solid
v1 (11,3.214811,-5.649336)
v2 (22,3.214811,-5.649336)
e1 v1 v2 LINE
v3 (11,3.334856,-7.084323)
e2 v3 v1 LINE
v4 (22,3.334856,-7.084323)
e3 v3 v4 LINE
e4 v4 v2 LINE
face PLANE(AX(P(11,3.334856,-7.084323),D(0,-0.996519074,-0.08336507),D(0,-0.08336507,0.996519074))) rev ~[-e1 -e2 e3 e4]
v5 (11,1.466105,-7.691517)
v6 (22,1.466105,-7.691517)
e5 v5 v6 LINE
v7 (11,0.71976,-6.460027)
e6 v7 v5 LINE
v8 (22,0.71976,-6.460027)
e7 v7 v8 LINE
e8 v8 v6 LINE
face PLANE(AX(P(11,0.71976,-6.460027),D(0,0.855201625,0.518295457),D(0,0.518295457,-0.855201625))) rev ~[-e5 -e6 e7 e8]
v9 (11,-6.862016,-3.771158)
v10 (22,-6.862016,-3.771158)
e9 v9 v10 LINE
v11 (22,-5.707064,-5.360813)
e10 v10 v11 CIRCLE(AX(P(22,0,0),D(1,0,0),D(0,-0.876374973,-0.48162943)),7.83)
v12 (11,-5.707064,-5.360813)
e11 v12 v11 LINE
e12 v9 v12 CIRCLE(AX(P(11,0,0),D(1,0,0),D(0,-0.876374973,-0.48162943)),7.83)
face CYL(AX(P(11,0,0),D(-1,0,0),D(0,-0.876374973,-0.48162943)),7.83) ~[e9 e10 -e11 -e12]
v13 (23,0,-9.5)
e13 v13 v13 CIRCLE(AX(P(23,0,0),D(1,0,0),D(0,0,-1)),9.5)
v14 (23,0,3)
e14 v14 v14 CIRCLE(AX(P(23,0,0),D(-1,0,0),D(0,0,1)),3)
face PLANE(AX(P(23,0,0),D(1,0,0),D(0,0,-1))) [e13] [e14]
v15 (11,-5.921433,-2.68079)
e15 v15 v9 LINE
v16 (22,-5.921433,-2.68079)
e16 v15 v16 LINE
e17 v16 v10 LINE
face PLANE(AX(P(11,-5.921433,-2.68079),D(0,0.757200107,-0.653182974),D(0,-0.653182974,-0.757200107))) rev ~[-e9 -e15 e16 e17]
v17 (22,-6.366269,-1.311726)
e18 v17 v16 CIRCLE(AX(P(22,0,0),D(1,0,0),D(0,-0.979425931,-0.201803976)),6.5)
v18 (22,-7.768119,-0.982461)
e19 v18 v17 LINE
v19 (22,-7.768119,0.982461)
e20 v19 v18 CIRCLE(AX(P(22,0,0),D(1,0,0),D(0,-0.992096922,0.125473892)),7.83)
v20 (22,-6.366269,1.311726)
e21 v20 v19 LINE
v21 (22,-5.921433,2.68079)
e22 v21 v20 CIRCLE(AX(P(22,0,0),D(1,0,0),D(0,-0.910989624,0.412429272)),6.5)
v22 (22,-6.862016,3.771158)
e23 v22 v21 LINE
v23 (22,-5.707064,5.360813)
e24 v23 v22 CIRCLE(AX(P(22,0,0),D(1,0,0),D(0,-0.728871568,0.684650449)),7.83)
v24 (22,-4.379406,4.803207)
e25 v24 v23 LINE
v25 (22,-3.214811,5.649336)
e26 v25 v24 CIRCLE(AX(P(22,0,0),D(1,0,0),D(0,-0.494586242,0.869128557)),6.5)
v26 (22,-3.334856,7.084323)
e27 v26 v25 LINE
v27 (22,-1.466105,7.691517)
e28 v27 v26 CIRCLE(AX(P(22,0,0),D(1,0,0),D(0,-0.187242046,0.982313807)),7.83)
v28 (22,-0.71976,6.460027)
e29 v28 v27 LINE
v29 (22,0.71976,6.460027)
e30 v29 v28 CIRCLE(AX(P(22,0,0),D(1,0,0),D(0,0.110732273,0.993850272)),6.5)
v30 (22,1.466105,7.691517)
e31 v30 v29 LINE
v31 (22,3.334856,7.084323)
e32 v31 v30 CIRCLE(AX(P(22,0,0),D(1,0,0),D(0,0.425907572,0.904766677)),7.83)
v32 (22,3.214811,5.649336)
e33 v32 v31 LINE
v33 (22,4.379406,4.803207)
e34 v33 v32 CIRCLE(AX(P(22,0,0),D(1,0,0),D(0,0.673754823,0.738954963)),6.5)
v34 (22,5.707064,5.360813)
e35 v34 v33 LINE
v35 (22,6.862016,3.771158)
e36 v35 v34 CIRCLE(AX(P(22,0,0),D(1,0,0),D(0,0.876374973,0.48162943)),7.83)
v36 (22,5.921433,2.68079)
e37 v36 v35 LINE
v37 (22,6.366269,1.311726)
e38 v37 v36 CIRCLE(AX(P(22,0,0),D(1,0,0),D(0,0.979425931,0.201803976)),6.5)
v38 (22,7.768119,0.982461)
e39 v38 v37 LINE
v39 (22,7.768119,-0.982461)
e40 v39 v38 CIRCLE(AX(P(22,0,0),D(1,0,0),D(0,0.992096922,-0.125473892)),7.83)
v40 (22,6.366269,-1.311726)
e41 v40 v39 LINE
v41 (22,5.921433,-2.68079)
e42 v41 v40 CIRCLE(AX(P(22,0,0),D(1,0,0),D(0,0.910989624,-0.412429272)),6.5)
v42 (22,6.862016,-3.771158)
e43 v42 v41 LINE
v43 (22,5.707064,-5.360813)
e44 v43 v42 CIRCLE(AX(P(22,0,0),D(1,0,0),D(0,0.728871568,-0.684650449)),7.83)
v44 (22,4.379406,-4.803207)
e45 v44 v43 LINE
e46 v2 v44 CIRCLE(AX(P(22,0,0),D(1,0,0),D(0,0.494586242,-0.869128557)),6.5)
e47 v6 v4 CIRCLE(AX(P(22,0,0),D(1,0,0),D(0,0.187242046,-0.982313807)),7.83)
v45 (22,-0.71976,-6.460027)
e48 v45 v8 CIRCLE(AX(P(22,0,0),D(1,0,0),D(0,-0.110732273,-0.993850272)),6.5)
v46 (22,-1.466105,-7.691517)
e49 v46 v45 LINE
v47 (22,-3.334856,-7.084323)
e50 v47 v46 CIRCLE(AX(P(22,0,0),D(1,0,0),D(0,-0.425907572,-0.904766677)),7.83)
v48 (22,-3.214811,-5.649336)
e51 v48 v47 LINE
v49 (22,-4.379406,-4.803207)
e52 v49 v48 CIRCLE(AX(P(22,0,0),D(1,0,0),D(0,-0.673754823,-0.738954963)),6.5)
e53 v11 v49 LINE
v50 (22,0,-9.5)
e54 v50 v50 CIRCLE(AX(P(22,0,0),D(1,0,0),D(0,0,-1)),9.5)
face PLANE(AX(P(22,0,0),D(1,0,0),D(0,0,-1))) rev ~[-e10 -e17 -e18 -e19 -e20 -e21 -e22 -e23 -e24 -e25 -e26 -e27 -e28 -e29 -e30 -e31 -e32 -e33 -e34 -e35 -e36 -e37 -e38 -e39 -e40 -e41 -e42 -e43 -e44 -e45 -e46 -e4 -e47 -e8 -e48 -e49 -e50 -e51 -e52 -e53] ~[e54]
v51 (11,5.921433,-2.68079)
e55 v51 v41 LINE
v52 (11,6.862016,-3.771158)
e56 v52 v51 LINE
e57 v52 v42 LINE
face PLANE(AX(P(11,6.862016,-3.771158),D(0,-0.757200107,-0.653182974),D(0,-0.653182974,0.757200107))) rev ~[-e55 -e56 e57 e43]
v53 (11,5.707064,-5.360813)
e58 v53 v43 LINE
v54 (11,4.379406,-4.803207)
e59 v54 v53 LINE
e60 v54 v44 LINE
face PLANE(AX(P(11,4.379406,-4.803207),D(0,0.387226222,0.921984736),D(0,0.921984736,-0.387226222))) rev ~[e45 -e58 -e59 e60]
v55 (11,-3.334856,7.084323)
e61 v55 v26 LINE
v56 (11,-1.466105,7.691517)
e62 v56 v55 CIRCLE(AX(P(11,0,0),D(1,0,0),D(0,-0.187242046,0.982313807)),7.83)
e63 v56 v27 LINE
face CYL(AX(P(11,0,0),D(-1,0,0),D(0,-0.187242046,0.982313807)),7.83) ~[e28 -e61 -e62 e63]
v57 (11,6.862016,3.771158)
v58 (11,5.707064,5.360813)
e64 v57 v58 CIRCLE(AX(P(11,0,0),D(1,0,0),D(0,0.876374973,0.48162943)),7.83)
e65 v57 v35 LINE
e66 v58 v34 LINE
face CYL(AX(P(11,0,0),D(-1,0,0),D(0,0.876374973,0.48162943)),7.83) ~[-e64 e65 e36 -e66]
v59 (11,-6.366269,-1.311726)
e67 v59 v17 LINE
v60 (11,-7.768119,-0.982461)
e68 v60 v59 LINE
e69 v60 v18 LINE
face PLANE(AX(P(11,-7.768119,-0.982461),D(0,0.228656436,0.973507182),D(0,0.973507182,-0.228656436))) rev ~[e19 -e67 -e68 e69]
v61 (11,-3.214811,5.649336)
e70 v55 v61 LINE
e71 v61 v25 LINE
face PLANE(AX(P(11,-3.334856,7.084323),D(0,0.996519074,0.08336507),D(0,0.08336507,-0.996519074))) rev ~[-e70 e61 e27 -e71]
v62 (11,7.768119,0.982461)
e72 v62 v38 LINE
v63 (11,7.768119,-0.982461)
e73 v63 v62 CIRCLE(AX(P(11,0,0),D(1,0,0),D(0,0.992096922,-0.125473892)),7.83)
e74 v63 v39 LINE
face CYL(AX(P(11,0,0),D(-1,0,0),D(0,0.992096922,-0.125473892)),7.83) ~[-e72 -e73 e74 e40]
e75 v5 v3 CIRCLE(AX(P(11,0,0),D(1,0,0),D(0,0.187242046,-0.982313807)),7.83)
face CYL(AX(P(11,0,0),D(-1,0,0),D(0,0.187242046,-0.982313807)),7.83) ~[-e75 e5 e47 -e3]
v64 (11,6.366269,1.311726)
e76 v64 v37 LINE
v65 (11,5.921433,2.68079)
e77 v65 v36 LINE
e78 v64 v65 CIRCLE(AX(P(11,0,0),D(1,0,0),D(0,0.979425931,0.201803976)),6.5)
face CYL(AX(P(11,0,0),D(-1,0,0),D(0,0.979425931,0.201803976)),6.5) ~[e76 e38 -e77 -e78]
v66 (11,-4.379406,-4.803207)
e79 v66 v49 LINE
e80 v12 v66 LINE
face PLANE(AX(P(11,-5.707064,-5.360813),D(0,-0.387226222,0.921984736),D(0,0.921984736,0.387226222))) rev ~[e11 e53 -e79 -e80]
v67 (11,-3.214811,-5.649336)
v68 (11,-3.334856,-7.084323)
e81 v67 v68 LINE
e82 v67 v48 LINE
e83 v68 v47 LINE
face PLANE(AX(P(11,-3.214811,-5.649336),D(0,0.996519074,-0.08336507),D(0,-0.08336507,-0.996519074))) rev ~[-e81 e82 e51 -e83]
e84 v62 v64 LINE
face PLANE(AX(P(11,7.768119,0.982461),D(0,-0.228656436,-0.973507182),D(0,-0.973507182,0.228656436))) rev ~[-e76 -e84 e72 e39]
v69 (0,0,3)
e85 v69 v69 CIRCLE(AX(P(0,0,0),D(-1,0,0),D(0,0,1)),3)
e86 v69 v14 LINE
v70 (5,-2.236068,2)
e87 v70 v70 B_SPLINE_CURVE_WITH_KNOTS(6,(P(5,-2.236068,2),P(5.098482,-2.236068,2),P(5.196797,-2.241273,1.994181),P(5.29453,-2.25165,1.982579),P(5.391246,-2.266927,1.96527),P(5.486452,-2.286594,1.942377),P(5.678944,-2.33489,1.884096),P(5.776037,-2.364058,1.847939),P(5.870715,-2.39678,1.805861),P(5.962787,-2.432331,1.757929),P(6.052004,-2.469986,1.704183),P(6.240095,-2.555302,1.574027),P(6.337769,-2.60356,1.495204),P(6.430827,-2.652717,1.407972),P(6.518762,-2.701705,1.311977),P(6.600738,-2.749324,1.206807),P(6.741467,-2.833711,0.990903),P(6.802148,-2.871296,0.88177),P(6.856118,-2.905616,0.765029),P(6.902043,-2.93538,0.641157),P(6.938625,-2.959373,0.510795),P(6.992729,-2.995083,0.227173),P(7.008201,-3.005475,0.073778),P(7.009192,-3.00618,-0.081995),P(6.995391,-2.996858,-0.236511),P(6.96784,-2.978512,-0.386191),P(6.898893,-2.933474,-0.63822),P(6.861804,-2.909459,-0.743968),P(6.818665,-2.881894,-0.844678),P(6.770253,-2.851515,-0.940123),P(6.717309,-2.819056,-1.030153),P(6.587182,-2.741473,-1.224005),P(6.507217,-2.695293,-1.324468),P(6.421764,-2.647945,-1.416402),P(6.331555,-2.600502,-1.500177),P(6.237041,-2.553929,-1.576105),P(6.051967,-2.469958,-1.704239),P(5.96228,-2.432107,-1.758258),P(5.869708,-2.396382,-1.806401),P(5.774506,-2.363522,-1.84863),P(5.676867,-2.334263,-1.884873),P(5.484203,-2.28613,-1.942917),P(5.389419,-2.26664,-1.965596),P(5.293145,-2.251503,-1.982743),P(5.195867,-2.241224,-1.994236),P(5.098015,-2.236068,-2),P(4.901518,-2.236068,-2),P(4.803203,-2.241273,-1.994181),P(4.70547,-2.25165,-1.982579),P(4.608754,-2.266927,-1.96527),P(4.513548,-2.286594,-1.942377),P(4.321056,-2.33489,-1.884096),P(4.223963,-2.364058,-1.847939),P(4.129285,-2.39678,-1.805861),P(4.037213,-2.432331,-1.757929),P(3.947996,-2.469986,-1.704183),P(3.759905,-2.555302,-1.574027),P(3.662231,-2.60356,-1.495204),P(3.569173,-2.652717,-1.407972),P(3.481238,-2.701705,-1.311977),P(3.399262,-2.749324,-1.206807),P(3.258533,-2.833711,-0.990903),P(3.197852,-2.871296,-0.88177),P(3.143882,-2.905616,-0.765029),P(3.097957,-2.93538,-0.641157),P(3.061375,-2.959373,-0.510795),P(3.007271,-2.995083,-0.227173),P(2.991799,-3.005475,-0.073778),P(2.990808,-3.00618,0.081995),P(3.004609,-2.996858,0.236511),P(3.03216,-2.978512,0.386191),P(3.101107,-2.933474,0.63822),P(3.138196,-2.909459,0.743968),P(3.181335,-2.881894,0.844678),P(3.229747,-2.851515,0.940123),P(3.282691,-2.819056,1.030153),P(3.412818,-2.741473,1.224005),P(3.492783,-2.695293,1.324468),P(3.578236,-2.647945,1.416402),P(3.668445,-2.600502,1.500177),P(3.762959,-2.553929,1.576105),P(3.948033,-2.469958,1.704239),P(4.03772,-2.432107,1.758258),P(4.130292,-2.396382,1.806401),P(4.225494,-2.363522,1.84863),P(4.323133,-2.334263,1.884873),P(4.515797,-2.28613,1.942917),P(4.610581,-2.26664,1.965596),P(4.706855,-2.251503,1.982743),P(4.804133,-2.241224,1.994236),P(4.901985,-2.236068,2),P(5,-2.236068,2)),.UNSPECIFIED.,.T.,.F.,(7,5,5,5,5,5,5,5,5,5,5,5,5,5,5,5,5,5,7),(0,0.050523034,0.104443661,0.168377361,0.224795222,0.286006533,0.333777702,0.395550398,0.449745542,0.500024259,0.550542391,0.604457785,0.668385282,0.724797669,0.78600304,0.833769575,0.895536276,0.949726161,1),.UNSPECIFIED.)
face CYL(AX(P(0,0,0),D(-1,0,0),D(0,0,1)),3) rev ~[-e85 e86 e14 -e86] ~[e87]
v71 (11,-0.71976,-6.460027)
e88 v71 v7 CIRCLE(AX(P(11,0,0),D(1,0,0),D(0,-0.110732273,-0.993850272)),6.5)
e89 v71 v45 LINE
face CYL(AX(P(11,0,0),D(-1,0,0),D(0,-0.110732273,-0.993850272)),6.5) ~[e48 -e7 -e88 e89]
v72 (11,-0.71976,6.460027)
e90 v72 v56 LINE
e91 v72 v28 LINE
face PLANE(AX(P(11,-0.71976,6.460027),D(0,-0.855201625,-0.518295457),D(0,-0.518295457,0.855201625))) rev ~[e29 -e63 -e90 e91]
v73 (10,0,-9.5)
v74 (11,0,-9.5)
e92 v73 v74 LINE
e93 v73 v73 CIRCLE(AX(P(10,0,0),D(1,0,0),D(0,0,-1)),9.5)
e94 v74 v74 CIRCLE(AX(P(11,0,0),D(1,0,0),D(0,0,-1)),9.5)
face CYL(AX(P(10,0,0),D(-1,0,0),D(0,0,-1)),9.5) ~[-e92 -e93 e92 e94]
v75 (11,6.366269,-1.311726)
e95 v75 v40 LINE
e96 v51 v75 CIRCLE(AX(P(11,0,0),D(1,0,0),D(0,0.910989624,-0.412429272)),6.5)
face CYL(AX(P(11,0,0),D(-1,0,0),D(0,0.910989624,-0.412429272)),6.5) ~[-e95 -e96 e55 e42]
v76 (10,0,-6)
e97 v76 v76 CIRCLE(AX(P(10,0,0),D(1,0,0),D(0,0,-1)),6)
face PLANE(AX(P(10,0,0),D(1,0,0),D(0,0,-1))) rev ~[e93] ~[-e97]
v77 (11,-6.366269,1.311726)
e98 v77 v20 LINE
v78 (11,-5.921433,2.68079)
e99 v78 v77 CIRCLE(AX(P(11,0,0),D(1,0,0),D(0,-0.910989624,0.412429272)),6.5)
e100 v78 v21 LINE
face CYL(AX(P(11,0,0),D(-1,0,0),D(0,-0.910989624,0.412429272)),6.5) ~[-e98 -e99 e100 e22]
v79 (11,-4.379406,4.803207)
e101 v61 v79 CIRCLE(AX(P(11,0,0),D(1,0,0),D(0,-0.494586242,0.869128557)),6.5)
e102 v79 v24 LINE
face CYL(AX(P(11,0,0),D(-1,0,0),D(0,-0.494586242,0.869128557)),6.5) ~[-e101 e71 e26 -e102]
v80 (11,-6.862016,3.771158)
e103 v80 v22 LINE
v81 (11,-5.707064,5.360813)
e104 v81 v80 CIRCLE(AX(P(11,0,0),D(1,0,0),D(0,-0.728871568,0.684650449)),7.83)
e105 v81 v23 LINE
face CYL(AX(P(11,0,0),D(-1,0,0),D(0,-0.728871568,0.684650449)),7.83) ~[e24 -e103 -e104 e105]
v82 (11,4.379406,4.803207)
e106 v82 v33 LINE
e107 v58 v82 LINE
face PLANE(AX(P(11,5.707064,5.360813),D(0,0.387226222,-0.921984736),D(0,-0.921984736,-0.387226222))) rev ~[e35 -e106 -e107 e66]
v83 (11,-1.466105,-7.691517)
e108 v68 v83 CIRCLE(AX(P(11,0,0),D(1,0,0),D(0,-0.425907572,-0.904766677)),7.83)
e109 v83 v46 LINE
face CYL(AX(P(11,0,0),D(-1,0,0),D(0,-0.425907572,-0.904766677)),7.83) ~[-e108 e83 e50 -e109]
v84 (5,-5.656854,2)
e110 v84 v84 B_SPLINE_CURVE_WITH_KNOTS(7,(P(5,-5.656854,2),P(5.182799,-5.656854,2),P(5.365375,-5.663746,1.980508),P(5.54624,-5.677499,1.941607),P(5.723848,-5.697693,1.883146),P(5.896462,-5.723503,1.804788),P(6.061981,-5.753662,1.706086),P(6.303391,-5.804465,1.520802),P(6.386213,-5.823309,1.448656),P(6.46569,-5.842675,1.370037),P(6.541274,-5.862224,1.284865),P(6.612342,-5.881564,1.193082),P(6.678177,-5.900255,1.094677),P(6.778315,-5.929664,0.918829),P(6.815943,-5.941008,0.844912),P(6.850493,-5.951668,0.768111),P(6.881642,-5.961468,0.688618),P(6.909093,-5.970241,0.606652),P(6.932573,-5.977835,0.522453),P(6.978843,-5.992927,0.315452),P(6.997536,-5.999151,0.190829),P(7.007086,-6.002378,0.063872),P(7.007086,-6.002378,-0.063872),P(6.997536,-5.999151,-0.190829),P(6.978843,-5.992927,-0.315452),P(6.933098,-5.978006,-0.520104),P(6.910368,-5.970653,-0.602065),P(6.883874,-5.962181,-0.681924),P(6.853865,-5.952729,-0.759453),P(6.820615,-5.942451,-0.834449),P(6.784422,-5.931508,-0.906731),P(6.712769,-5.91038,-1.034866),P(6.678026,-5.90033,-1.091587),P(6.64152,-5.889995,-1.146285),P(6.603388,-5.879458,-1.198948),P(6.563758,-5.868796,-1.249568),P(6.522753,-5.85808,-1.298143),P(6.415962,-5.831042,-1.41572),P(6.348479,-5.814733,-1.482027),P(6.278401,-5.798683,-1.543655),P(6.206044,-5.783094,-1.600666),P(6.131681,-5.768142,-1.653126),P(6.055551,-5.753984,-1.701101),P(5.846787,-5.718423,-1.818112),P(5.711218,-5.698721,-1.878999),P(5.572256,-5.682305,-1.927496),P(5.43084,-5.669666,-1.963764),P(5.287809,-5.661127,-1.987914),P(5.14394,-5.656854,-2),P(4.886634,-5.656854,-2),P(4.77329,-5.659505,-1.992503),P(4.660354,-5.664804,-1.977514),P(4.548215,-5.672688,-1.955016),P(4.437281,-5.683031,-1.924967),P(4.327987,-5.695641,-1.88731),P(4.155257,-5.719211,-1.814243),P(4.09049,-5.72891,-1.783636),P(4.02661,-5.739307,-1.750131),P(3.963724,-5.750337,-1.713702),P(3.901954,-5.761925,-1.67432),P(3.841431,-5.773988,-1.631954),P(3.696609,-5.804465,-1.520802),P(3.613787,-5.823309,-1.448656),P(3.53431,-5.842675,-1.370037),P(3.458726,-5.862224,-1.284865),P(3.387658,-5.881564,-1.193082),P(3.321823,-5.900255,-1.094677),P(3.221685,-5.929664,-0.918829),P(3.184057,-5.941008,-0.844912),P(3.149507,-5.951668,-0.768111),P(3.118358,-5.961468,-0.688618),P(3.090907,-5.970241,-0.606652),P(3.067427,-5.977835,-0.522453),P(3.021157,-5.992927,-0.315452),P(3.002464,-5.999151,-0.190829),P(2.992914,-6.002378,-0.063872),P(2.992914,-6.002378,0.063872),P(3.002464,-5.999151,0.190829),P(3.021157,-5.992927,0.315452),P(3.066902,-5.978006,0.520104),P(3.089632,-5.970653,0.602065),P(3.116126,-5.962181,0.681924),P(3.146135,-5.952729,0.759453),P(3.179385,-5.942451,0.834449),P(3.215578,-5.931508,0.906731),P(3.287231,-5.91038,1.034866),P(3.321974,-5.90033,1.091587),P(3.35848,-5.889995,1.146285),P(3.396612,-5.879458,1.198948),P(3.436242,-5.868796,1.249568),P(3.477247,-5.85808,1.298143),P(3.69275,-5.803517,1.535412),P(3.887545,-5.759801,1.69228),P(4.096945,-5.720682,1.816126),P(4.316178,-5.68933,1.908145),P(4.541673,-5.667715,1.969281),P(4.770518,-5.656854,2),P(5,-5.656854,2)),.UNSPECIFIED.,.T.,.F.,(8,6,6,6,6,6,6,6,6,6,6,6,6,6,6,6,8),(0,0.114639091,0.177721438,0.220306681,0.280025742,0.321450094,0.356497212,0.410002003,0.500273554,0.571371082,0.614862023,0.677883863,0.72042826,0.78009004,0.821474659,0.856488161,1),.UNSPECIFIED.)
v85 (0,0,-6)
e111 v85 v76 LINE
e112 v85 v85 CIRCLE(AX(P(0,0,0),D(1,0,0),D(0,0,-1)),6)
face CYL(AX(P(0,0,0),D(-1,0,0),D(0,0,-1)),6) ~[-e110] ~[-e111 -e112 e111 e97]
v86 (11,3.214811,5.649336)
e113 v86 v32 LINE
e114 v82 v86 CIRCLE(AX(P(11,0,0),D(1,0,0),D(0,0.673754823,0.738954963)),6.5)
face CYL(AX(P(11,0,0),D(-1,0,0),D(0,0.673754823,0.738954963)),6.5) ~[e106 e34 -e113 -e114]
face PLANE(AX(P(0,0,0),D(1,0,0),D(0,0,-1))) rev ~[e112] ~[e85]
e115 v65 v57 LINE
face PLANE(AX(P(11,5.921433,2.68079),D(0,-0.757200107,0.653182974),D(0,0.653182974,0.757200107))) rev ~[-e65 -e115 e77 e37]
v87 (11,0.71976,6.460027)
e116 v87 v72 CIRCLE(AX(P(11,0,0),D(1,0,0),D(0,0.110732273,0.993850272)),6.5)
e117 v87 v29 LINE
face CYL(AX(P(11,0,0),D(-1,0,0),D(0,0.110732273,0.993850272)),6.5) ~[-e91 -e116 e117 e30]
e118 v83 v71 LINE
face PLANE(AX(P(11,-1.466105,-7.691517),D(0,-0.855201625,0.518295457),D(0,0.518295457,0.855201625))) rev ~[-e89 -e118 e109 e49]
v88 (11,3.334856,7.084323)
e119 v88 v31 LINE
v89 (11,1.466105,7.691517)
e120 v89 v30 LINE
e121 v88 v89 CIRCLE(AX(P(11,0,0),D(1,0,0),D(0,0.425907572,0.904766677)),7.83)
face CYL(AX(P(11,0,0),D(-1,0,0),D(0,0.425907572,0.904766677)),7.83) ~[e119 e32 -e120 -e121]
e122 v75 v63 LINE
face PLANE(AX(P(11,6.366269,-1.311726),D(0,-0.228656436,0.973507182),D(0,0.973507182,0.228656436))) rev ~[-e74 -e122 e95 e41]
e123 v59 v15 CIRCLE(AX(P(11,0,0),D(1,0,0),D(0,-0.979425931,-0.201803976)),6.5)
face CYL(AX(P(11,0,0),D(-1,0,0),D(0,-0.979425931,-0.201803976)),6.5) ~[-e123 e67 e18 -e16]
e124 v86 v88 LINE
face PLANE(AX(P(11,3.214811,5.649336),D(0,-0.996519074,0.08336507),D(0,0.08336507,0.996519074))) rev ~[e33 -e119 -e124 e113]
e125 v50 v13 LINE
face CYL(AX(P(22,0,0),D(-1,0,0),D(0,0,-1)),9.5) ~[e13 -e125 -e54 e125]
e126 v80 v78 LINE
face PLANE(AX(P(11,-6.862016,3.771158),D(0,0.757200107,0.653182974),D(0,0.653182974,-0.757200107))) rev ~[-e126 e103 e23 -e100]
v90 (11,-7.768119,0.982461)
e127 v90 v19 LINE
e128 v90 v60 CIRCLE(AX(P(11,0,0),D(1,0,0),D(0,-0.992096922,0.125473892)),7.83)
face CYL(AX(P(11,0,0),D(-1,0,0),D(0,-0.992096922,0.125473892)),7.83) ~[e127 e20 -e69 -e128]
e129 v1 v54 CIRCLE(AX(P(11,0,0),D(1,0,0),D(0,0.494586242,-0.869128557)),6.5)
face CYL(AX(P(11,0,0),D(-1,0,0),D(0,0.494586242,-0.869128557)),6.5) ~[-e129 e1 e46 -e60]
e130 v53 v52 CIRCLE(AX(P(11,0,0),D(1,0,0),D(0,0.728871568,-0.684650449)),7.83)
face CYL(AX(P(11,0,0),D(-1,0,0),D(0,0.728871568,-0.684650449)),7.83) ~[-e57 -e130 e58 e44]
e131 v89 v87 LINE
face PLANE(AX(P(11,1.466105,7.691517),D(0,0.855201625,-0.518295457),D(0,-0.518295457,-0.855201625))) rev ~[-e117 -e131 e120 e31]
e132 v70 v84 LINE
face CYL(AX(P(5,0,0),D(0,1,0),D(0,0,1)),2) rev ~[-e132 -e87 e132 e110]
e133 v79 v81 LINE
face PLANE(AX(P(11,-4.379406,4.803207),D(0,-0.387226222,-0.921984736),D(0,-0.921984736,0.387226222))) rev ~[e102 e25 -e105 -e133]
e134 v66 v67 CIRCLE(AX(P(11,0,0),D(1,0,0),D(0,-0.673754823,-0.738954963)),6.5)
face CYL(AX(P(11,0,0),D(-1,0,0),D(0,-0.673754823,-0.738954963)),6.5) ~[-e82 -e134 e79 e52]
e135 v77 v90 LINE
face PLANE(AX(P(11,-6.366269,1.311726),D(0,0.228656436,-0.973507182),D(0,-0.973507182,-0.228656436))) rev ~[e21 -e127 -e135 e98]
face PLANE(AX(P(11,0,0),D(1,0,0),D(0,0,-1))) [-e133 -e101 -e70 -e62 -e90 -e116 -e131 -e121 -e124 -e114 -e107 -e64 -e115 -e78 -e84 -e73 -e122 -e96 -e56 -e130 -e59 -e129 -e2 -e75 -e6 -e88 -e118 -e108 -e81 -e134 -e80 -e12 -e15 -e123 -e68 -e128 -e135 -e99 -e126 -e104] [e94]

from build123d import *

# Parameters (mm, degrees)
SKETCH1_R           = 6
BOSS_EXTRUDE1_DEPTH = 10
SKETCH2_R           = 9.5
BOSS_EXTRUDE2_DEPTH = 1
BOSS_EXTRUDE3_DEPTH = 11
SKETCH4_R           = 9.5
BOSS_EXTRUDE4_DEPTH = 1
SKETCH5_R           = 3
CUT_EXTRUDE1_DEPTH  = 27.636441204
SKETCH6_R           = 2
CUT_EXTRUDE2_DEPTH  = 27.636441204


with BuildPart() as part:
    # Sketch1 → Boss-Extrude1 (new body)
    with BuildSketch(Plane(origin=(0, 0, 0), x_dir=(0, 0, -1), z_dir=(1, 0, 0))):
        Circle(SKETCH1_R)
    extrude(amount=BOSS_EXTRUDE1_DEPTH)

    # Sketch2 → Boss-Extrude2 (add)
    with BuildSketch(Plane(origin=(10, 0, 0), x_dir=(0, 0, -1), z_dir=(1, 0, 0))):
        Circle(SKETCH2_R)
    extrude(amount=BOSS_EXTRUDE2_DEPTH)

    # Sketch3 → Boss-Extrude3 (add)
    with BuildSketch(Plane(origin=(11, 0, 0), x_dir=(0, 0, -1), z_dir=(1, 0, 0))):
        with BuildLine():
            Line((-0.982460567, 7.768118899), (-1.311725835, 6.366268557))
            ThreePointArc((-1.311725835, 6.366268557), (-2.008610463, 6.181867356), (-2.680790278, 5.921432554))
            Line((-2.680790278, 5.921432554), (-3.771158432, 6.862016036))
            ThreePointArc((-3.771158432, 6.862016036), (-4.602358525, 6.334603066), (-5.360813022, 5.707064372))
            Line((-5.360813022, 5.707064372), (-4.803207262, 4.379406352))
            ThreePointArc((-4.803207262, 4.379406352), (-5.258610463, 3.82060414), (-5.64933562, 3.214810577))
            Line((-5.64933562, 3.214810577), (-7.084323087, 3.334856278))
            ThreePointArc((-7.084323087, 3.334856278), (-7.446772523, 2.419603066), (-7.69151711, 1.46610523))
            Line((-7.69151711, 1.46610523), (-6.46002677, 0.719759772))
            ThreePointArc((-6.46002677, 0.719759772), (-6.5, 0), (-6.46002677, -0.719759772))
            Line((-6.46002677, -0.719759772), (-7.69151711, -1.46610523))
            ThreePointArc((-7.69151711, -1.46610523), (-7.446772523, -2.419603066), (-7.084323087, -3.334856278))
            Line((-7.084323087, -3.334856278), (-5.64933562, -3.214810577))
            ThreePointArc((-5.64933562, -3.214810577), (-5.258610463, -3.82060414), (-4.803207262, -4.379406352))
            Line((-4.803207262, -4.379406352), (-5.360813022, -5.707064372))
            ThreePointArc((-5.360813022, -5.707064372), (-4.602358525, -6.334603066), (-3.771158432, -6.862016036))
            Line((-3.771158432, -6.862016036), (-2.680790278, -5.921432554))
            ThreePointArc((-2.680790278, -5.921432554), (-2.008610463, -6.181867356), (-1.311725835, -6.366268557))
            Line((-1.311725835, -6.366268557), (-0.982460567, -7.768118899))
            ThreePointArc((-0.982460567, -7.768118899), (0, -7.83), (0.982460567, -7.768118899))
            Line((0.982460567, -7.768118899), (1.311725835, -6.366268557))
            ThreePointArc((1.311725835, -6.366268557), (2.008610463, -6.181867356), (2.680790278, -5.921432554))
            Line((2.680790278, -5.921432554), (3.771158432, -6.862016036))
            ThreePointArc((3.771158432, -6.862016036), (4.602358525, -6.334603066), (5.360813022, -5.707064372))
            Line((5.360813022, -5.707064372), (4.803207262, -4.379406352))
            ThreePointArc((4.803207262, -4.379406352), (5.258610463, -3.82060414), (5.64933562, -3.214810577))
            Line((5.64933562, -3.214810577), (7.084323087, -3.334856278))
            ThreePointArc((7.084323087, -3.334856278), (7.446772523, -2.419603066), (7.69151711, -1.46610523))
            Line((7.69151711, -1.46610523), (6.46002677, -0.719759772))
            ThreePointArc((6.46002677, -0.719759772), (6.5, 0), (6.46002677, 0.719759772))
            Line((6.46002677, 0.719759772), (7.69151711, 1.46610523))
            ThreePointArc((7.69151711, 1.46610523), (7.446772523, 2.419603066), (7.084323087, 3.334856278))
            Line((7.084323087, 3.334856278), (5.64933562, 3.214810577))
            ThreePointArc((5.64933562, 3.214810577), (5.258610463, 3.82060414), (4.803207262, 4.379406352))
            Line((4.803207262, 4.379406352), (5.360813022, 5.707064372))
            ThreePointArc((5.360813022, 5.707064372), (4.602358525, 6.334603066), (3.771158432, 6.862016036))
            Line((3.771158432, 6.862016036), (2.680790278, 5.921432554))
            ThreePointArc((2.680790278, 5.921432554), (2.008610463, 6.181867356), (1.311725835, 6.366268557))
            Line((1.311725835, 6.366268557), (0.982460567, 7.768118899))
            ThreePointArc((0.982460567, 7.768118899), (0, 7.83), (-0.982460567, 7.768118899))
        make_face()
    extrude(amount=BOSS_EXTRUDE3_DEPTH)

    # Sketch4 → Boss-Extrude4 (add)
    with BuildSketch(Plane(origin=(22, 0, 0), x_dir=(0, 0, -1), z_dir=(1, 0, 0))):
        Circle(SKETCH4_R)
    extrude(amount=BOSS_EXTRUDE4_DEPTH)

    # Sketch5 → Cut-Extrude1 (cut, through all)
    with BuildSketch(Plane.ZY):
        Circle(SKETCH5_R)
    extrude(amount=-CUT_EXTRUDE1_DEPTH, mode=Mode.SUBTRACT)

    # Sketch6 → Cut-Extrude2 (cut, through all)
    with BuildSketch(Plane(origin=(0, 0, 0), x_dir=(1, 0, 0), z_dir=(0, 1, 0))):
        with Locations(Location((5, 0, 0), (0, 0, 270))):
            Circle(SKETCH6_R)
    extrude(amount=-CUT_EXTRUDE2_DEPTH, mode=Mode.SUBTRACT)


solid = part.part
